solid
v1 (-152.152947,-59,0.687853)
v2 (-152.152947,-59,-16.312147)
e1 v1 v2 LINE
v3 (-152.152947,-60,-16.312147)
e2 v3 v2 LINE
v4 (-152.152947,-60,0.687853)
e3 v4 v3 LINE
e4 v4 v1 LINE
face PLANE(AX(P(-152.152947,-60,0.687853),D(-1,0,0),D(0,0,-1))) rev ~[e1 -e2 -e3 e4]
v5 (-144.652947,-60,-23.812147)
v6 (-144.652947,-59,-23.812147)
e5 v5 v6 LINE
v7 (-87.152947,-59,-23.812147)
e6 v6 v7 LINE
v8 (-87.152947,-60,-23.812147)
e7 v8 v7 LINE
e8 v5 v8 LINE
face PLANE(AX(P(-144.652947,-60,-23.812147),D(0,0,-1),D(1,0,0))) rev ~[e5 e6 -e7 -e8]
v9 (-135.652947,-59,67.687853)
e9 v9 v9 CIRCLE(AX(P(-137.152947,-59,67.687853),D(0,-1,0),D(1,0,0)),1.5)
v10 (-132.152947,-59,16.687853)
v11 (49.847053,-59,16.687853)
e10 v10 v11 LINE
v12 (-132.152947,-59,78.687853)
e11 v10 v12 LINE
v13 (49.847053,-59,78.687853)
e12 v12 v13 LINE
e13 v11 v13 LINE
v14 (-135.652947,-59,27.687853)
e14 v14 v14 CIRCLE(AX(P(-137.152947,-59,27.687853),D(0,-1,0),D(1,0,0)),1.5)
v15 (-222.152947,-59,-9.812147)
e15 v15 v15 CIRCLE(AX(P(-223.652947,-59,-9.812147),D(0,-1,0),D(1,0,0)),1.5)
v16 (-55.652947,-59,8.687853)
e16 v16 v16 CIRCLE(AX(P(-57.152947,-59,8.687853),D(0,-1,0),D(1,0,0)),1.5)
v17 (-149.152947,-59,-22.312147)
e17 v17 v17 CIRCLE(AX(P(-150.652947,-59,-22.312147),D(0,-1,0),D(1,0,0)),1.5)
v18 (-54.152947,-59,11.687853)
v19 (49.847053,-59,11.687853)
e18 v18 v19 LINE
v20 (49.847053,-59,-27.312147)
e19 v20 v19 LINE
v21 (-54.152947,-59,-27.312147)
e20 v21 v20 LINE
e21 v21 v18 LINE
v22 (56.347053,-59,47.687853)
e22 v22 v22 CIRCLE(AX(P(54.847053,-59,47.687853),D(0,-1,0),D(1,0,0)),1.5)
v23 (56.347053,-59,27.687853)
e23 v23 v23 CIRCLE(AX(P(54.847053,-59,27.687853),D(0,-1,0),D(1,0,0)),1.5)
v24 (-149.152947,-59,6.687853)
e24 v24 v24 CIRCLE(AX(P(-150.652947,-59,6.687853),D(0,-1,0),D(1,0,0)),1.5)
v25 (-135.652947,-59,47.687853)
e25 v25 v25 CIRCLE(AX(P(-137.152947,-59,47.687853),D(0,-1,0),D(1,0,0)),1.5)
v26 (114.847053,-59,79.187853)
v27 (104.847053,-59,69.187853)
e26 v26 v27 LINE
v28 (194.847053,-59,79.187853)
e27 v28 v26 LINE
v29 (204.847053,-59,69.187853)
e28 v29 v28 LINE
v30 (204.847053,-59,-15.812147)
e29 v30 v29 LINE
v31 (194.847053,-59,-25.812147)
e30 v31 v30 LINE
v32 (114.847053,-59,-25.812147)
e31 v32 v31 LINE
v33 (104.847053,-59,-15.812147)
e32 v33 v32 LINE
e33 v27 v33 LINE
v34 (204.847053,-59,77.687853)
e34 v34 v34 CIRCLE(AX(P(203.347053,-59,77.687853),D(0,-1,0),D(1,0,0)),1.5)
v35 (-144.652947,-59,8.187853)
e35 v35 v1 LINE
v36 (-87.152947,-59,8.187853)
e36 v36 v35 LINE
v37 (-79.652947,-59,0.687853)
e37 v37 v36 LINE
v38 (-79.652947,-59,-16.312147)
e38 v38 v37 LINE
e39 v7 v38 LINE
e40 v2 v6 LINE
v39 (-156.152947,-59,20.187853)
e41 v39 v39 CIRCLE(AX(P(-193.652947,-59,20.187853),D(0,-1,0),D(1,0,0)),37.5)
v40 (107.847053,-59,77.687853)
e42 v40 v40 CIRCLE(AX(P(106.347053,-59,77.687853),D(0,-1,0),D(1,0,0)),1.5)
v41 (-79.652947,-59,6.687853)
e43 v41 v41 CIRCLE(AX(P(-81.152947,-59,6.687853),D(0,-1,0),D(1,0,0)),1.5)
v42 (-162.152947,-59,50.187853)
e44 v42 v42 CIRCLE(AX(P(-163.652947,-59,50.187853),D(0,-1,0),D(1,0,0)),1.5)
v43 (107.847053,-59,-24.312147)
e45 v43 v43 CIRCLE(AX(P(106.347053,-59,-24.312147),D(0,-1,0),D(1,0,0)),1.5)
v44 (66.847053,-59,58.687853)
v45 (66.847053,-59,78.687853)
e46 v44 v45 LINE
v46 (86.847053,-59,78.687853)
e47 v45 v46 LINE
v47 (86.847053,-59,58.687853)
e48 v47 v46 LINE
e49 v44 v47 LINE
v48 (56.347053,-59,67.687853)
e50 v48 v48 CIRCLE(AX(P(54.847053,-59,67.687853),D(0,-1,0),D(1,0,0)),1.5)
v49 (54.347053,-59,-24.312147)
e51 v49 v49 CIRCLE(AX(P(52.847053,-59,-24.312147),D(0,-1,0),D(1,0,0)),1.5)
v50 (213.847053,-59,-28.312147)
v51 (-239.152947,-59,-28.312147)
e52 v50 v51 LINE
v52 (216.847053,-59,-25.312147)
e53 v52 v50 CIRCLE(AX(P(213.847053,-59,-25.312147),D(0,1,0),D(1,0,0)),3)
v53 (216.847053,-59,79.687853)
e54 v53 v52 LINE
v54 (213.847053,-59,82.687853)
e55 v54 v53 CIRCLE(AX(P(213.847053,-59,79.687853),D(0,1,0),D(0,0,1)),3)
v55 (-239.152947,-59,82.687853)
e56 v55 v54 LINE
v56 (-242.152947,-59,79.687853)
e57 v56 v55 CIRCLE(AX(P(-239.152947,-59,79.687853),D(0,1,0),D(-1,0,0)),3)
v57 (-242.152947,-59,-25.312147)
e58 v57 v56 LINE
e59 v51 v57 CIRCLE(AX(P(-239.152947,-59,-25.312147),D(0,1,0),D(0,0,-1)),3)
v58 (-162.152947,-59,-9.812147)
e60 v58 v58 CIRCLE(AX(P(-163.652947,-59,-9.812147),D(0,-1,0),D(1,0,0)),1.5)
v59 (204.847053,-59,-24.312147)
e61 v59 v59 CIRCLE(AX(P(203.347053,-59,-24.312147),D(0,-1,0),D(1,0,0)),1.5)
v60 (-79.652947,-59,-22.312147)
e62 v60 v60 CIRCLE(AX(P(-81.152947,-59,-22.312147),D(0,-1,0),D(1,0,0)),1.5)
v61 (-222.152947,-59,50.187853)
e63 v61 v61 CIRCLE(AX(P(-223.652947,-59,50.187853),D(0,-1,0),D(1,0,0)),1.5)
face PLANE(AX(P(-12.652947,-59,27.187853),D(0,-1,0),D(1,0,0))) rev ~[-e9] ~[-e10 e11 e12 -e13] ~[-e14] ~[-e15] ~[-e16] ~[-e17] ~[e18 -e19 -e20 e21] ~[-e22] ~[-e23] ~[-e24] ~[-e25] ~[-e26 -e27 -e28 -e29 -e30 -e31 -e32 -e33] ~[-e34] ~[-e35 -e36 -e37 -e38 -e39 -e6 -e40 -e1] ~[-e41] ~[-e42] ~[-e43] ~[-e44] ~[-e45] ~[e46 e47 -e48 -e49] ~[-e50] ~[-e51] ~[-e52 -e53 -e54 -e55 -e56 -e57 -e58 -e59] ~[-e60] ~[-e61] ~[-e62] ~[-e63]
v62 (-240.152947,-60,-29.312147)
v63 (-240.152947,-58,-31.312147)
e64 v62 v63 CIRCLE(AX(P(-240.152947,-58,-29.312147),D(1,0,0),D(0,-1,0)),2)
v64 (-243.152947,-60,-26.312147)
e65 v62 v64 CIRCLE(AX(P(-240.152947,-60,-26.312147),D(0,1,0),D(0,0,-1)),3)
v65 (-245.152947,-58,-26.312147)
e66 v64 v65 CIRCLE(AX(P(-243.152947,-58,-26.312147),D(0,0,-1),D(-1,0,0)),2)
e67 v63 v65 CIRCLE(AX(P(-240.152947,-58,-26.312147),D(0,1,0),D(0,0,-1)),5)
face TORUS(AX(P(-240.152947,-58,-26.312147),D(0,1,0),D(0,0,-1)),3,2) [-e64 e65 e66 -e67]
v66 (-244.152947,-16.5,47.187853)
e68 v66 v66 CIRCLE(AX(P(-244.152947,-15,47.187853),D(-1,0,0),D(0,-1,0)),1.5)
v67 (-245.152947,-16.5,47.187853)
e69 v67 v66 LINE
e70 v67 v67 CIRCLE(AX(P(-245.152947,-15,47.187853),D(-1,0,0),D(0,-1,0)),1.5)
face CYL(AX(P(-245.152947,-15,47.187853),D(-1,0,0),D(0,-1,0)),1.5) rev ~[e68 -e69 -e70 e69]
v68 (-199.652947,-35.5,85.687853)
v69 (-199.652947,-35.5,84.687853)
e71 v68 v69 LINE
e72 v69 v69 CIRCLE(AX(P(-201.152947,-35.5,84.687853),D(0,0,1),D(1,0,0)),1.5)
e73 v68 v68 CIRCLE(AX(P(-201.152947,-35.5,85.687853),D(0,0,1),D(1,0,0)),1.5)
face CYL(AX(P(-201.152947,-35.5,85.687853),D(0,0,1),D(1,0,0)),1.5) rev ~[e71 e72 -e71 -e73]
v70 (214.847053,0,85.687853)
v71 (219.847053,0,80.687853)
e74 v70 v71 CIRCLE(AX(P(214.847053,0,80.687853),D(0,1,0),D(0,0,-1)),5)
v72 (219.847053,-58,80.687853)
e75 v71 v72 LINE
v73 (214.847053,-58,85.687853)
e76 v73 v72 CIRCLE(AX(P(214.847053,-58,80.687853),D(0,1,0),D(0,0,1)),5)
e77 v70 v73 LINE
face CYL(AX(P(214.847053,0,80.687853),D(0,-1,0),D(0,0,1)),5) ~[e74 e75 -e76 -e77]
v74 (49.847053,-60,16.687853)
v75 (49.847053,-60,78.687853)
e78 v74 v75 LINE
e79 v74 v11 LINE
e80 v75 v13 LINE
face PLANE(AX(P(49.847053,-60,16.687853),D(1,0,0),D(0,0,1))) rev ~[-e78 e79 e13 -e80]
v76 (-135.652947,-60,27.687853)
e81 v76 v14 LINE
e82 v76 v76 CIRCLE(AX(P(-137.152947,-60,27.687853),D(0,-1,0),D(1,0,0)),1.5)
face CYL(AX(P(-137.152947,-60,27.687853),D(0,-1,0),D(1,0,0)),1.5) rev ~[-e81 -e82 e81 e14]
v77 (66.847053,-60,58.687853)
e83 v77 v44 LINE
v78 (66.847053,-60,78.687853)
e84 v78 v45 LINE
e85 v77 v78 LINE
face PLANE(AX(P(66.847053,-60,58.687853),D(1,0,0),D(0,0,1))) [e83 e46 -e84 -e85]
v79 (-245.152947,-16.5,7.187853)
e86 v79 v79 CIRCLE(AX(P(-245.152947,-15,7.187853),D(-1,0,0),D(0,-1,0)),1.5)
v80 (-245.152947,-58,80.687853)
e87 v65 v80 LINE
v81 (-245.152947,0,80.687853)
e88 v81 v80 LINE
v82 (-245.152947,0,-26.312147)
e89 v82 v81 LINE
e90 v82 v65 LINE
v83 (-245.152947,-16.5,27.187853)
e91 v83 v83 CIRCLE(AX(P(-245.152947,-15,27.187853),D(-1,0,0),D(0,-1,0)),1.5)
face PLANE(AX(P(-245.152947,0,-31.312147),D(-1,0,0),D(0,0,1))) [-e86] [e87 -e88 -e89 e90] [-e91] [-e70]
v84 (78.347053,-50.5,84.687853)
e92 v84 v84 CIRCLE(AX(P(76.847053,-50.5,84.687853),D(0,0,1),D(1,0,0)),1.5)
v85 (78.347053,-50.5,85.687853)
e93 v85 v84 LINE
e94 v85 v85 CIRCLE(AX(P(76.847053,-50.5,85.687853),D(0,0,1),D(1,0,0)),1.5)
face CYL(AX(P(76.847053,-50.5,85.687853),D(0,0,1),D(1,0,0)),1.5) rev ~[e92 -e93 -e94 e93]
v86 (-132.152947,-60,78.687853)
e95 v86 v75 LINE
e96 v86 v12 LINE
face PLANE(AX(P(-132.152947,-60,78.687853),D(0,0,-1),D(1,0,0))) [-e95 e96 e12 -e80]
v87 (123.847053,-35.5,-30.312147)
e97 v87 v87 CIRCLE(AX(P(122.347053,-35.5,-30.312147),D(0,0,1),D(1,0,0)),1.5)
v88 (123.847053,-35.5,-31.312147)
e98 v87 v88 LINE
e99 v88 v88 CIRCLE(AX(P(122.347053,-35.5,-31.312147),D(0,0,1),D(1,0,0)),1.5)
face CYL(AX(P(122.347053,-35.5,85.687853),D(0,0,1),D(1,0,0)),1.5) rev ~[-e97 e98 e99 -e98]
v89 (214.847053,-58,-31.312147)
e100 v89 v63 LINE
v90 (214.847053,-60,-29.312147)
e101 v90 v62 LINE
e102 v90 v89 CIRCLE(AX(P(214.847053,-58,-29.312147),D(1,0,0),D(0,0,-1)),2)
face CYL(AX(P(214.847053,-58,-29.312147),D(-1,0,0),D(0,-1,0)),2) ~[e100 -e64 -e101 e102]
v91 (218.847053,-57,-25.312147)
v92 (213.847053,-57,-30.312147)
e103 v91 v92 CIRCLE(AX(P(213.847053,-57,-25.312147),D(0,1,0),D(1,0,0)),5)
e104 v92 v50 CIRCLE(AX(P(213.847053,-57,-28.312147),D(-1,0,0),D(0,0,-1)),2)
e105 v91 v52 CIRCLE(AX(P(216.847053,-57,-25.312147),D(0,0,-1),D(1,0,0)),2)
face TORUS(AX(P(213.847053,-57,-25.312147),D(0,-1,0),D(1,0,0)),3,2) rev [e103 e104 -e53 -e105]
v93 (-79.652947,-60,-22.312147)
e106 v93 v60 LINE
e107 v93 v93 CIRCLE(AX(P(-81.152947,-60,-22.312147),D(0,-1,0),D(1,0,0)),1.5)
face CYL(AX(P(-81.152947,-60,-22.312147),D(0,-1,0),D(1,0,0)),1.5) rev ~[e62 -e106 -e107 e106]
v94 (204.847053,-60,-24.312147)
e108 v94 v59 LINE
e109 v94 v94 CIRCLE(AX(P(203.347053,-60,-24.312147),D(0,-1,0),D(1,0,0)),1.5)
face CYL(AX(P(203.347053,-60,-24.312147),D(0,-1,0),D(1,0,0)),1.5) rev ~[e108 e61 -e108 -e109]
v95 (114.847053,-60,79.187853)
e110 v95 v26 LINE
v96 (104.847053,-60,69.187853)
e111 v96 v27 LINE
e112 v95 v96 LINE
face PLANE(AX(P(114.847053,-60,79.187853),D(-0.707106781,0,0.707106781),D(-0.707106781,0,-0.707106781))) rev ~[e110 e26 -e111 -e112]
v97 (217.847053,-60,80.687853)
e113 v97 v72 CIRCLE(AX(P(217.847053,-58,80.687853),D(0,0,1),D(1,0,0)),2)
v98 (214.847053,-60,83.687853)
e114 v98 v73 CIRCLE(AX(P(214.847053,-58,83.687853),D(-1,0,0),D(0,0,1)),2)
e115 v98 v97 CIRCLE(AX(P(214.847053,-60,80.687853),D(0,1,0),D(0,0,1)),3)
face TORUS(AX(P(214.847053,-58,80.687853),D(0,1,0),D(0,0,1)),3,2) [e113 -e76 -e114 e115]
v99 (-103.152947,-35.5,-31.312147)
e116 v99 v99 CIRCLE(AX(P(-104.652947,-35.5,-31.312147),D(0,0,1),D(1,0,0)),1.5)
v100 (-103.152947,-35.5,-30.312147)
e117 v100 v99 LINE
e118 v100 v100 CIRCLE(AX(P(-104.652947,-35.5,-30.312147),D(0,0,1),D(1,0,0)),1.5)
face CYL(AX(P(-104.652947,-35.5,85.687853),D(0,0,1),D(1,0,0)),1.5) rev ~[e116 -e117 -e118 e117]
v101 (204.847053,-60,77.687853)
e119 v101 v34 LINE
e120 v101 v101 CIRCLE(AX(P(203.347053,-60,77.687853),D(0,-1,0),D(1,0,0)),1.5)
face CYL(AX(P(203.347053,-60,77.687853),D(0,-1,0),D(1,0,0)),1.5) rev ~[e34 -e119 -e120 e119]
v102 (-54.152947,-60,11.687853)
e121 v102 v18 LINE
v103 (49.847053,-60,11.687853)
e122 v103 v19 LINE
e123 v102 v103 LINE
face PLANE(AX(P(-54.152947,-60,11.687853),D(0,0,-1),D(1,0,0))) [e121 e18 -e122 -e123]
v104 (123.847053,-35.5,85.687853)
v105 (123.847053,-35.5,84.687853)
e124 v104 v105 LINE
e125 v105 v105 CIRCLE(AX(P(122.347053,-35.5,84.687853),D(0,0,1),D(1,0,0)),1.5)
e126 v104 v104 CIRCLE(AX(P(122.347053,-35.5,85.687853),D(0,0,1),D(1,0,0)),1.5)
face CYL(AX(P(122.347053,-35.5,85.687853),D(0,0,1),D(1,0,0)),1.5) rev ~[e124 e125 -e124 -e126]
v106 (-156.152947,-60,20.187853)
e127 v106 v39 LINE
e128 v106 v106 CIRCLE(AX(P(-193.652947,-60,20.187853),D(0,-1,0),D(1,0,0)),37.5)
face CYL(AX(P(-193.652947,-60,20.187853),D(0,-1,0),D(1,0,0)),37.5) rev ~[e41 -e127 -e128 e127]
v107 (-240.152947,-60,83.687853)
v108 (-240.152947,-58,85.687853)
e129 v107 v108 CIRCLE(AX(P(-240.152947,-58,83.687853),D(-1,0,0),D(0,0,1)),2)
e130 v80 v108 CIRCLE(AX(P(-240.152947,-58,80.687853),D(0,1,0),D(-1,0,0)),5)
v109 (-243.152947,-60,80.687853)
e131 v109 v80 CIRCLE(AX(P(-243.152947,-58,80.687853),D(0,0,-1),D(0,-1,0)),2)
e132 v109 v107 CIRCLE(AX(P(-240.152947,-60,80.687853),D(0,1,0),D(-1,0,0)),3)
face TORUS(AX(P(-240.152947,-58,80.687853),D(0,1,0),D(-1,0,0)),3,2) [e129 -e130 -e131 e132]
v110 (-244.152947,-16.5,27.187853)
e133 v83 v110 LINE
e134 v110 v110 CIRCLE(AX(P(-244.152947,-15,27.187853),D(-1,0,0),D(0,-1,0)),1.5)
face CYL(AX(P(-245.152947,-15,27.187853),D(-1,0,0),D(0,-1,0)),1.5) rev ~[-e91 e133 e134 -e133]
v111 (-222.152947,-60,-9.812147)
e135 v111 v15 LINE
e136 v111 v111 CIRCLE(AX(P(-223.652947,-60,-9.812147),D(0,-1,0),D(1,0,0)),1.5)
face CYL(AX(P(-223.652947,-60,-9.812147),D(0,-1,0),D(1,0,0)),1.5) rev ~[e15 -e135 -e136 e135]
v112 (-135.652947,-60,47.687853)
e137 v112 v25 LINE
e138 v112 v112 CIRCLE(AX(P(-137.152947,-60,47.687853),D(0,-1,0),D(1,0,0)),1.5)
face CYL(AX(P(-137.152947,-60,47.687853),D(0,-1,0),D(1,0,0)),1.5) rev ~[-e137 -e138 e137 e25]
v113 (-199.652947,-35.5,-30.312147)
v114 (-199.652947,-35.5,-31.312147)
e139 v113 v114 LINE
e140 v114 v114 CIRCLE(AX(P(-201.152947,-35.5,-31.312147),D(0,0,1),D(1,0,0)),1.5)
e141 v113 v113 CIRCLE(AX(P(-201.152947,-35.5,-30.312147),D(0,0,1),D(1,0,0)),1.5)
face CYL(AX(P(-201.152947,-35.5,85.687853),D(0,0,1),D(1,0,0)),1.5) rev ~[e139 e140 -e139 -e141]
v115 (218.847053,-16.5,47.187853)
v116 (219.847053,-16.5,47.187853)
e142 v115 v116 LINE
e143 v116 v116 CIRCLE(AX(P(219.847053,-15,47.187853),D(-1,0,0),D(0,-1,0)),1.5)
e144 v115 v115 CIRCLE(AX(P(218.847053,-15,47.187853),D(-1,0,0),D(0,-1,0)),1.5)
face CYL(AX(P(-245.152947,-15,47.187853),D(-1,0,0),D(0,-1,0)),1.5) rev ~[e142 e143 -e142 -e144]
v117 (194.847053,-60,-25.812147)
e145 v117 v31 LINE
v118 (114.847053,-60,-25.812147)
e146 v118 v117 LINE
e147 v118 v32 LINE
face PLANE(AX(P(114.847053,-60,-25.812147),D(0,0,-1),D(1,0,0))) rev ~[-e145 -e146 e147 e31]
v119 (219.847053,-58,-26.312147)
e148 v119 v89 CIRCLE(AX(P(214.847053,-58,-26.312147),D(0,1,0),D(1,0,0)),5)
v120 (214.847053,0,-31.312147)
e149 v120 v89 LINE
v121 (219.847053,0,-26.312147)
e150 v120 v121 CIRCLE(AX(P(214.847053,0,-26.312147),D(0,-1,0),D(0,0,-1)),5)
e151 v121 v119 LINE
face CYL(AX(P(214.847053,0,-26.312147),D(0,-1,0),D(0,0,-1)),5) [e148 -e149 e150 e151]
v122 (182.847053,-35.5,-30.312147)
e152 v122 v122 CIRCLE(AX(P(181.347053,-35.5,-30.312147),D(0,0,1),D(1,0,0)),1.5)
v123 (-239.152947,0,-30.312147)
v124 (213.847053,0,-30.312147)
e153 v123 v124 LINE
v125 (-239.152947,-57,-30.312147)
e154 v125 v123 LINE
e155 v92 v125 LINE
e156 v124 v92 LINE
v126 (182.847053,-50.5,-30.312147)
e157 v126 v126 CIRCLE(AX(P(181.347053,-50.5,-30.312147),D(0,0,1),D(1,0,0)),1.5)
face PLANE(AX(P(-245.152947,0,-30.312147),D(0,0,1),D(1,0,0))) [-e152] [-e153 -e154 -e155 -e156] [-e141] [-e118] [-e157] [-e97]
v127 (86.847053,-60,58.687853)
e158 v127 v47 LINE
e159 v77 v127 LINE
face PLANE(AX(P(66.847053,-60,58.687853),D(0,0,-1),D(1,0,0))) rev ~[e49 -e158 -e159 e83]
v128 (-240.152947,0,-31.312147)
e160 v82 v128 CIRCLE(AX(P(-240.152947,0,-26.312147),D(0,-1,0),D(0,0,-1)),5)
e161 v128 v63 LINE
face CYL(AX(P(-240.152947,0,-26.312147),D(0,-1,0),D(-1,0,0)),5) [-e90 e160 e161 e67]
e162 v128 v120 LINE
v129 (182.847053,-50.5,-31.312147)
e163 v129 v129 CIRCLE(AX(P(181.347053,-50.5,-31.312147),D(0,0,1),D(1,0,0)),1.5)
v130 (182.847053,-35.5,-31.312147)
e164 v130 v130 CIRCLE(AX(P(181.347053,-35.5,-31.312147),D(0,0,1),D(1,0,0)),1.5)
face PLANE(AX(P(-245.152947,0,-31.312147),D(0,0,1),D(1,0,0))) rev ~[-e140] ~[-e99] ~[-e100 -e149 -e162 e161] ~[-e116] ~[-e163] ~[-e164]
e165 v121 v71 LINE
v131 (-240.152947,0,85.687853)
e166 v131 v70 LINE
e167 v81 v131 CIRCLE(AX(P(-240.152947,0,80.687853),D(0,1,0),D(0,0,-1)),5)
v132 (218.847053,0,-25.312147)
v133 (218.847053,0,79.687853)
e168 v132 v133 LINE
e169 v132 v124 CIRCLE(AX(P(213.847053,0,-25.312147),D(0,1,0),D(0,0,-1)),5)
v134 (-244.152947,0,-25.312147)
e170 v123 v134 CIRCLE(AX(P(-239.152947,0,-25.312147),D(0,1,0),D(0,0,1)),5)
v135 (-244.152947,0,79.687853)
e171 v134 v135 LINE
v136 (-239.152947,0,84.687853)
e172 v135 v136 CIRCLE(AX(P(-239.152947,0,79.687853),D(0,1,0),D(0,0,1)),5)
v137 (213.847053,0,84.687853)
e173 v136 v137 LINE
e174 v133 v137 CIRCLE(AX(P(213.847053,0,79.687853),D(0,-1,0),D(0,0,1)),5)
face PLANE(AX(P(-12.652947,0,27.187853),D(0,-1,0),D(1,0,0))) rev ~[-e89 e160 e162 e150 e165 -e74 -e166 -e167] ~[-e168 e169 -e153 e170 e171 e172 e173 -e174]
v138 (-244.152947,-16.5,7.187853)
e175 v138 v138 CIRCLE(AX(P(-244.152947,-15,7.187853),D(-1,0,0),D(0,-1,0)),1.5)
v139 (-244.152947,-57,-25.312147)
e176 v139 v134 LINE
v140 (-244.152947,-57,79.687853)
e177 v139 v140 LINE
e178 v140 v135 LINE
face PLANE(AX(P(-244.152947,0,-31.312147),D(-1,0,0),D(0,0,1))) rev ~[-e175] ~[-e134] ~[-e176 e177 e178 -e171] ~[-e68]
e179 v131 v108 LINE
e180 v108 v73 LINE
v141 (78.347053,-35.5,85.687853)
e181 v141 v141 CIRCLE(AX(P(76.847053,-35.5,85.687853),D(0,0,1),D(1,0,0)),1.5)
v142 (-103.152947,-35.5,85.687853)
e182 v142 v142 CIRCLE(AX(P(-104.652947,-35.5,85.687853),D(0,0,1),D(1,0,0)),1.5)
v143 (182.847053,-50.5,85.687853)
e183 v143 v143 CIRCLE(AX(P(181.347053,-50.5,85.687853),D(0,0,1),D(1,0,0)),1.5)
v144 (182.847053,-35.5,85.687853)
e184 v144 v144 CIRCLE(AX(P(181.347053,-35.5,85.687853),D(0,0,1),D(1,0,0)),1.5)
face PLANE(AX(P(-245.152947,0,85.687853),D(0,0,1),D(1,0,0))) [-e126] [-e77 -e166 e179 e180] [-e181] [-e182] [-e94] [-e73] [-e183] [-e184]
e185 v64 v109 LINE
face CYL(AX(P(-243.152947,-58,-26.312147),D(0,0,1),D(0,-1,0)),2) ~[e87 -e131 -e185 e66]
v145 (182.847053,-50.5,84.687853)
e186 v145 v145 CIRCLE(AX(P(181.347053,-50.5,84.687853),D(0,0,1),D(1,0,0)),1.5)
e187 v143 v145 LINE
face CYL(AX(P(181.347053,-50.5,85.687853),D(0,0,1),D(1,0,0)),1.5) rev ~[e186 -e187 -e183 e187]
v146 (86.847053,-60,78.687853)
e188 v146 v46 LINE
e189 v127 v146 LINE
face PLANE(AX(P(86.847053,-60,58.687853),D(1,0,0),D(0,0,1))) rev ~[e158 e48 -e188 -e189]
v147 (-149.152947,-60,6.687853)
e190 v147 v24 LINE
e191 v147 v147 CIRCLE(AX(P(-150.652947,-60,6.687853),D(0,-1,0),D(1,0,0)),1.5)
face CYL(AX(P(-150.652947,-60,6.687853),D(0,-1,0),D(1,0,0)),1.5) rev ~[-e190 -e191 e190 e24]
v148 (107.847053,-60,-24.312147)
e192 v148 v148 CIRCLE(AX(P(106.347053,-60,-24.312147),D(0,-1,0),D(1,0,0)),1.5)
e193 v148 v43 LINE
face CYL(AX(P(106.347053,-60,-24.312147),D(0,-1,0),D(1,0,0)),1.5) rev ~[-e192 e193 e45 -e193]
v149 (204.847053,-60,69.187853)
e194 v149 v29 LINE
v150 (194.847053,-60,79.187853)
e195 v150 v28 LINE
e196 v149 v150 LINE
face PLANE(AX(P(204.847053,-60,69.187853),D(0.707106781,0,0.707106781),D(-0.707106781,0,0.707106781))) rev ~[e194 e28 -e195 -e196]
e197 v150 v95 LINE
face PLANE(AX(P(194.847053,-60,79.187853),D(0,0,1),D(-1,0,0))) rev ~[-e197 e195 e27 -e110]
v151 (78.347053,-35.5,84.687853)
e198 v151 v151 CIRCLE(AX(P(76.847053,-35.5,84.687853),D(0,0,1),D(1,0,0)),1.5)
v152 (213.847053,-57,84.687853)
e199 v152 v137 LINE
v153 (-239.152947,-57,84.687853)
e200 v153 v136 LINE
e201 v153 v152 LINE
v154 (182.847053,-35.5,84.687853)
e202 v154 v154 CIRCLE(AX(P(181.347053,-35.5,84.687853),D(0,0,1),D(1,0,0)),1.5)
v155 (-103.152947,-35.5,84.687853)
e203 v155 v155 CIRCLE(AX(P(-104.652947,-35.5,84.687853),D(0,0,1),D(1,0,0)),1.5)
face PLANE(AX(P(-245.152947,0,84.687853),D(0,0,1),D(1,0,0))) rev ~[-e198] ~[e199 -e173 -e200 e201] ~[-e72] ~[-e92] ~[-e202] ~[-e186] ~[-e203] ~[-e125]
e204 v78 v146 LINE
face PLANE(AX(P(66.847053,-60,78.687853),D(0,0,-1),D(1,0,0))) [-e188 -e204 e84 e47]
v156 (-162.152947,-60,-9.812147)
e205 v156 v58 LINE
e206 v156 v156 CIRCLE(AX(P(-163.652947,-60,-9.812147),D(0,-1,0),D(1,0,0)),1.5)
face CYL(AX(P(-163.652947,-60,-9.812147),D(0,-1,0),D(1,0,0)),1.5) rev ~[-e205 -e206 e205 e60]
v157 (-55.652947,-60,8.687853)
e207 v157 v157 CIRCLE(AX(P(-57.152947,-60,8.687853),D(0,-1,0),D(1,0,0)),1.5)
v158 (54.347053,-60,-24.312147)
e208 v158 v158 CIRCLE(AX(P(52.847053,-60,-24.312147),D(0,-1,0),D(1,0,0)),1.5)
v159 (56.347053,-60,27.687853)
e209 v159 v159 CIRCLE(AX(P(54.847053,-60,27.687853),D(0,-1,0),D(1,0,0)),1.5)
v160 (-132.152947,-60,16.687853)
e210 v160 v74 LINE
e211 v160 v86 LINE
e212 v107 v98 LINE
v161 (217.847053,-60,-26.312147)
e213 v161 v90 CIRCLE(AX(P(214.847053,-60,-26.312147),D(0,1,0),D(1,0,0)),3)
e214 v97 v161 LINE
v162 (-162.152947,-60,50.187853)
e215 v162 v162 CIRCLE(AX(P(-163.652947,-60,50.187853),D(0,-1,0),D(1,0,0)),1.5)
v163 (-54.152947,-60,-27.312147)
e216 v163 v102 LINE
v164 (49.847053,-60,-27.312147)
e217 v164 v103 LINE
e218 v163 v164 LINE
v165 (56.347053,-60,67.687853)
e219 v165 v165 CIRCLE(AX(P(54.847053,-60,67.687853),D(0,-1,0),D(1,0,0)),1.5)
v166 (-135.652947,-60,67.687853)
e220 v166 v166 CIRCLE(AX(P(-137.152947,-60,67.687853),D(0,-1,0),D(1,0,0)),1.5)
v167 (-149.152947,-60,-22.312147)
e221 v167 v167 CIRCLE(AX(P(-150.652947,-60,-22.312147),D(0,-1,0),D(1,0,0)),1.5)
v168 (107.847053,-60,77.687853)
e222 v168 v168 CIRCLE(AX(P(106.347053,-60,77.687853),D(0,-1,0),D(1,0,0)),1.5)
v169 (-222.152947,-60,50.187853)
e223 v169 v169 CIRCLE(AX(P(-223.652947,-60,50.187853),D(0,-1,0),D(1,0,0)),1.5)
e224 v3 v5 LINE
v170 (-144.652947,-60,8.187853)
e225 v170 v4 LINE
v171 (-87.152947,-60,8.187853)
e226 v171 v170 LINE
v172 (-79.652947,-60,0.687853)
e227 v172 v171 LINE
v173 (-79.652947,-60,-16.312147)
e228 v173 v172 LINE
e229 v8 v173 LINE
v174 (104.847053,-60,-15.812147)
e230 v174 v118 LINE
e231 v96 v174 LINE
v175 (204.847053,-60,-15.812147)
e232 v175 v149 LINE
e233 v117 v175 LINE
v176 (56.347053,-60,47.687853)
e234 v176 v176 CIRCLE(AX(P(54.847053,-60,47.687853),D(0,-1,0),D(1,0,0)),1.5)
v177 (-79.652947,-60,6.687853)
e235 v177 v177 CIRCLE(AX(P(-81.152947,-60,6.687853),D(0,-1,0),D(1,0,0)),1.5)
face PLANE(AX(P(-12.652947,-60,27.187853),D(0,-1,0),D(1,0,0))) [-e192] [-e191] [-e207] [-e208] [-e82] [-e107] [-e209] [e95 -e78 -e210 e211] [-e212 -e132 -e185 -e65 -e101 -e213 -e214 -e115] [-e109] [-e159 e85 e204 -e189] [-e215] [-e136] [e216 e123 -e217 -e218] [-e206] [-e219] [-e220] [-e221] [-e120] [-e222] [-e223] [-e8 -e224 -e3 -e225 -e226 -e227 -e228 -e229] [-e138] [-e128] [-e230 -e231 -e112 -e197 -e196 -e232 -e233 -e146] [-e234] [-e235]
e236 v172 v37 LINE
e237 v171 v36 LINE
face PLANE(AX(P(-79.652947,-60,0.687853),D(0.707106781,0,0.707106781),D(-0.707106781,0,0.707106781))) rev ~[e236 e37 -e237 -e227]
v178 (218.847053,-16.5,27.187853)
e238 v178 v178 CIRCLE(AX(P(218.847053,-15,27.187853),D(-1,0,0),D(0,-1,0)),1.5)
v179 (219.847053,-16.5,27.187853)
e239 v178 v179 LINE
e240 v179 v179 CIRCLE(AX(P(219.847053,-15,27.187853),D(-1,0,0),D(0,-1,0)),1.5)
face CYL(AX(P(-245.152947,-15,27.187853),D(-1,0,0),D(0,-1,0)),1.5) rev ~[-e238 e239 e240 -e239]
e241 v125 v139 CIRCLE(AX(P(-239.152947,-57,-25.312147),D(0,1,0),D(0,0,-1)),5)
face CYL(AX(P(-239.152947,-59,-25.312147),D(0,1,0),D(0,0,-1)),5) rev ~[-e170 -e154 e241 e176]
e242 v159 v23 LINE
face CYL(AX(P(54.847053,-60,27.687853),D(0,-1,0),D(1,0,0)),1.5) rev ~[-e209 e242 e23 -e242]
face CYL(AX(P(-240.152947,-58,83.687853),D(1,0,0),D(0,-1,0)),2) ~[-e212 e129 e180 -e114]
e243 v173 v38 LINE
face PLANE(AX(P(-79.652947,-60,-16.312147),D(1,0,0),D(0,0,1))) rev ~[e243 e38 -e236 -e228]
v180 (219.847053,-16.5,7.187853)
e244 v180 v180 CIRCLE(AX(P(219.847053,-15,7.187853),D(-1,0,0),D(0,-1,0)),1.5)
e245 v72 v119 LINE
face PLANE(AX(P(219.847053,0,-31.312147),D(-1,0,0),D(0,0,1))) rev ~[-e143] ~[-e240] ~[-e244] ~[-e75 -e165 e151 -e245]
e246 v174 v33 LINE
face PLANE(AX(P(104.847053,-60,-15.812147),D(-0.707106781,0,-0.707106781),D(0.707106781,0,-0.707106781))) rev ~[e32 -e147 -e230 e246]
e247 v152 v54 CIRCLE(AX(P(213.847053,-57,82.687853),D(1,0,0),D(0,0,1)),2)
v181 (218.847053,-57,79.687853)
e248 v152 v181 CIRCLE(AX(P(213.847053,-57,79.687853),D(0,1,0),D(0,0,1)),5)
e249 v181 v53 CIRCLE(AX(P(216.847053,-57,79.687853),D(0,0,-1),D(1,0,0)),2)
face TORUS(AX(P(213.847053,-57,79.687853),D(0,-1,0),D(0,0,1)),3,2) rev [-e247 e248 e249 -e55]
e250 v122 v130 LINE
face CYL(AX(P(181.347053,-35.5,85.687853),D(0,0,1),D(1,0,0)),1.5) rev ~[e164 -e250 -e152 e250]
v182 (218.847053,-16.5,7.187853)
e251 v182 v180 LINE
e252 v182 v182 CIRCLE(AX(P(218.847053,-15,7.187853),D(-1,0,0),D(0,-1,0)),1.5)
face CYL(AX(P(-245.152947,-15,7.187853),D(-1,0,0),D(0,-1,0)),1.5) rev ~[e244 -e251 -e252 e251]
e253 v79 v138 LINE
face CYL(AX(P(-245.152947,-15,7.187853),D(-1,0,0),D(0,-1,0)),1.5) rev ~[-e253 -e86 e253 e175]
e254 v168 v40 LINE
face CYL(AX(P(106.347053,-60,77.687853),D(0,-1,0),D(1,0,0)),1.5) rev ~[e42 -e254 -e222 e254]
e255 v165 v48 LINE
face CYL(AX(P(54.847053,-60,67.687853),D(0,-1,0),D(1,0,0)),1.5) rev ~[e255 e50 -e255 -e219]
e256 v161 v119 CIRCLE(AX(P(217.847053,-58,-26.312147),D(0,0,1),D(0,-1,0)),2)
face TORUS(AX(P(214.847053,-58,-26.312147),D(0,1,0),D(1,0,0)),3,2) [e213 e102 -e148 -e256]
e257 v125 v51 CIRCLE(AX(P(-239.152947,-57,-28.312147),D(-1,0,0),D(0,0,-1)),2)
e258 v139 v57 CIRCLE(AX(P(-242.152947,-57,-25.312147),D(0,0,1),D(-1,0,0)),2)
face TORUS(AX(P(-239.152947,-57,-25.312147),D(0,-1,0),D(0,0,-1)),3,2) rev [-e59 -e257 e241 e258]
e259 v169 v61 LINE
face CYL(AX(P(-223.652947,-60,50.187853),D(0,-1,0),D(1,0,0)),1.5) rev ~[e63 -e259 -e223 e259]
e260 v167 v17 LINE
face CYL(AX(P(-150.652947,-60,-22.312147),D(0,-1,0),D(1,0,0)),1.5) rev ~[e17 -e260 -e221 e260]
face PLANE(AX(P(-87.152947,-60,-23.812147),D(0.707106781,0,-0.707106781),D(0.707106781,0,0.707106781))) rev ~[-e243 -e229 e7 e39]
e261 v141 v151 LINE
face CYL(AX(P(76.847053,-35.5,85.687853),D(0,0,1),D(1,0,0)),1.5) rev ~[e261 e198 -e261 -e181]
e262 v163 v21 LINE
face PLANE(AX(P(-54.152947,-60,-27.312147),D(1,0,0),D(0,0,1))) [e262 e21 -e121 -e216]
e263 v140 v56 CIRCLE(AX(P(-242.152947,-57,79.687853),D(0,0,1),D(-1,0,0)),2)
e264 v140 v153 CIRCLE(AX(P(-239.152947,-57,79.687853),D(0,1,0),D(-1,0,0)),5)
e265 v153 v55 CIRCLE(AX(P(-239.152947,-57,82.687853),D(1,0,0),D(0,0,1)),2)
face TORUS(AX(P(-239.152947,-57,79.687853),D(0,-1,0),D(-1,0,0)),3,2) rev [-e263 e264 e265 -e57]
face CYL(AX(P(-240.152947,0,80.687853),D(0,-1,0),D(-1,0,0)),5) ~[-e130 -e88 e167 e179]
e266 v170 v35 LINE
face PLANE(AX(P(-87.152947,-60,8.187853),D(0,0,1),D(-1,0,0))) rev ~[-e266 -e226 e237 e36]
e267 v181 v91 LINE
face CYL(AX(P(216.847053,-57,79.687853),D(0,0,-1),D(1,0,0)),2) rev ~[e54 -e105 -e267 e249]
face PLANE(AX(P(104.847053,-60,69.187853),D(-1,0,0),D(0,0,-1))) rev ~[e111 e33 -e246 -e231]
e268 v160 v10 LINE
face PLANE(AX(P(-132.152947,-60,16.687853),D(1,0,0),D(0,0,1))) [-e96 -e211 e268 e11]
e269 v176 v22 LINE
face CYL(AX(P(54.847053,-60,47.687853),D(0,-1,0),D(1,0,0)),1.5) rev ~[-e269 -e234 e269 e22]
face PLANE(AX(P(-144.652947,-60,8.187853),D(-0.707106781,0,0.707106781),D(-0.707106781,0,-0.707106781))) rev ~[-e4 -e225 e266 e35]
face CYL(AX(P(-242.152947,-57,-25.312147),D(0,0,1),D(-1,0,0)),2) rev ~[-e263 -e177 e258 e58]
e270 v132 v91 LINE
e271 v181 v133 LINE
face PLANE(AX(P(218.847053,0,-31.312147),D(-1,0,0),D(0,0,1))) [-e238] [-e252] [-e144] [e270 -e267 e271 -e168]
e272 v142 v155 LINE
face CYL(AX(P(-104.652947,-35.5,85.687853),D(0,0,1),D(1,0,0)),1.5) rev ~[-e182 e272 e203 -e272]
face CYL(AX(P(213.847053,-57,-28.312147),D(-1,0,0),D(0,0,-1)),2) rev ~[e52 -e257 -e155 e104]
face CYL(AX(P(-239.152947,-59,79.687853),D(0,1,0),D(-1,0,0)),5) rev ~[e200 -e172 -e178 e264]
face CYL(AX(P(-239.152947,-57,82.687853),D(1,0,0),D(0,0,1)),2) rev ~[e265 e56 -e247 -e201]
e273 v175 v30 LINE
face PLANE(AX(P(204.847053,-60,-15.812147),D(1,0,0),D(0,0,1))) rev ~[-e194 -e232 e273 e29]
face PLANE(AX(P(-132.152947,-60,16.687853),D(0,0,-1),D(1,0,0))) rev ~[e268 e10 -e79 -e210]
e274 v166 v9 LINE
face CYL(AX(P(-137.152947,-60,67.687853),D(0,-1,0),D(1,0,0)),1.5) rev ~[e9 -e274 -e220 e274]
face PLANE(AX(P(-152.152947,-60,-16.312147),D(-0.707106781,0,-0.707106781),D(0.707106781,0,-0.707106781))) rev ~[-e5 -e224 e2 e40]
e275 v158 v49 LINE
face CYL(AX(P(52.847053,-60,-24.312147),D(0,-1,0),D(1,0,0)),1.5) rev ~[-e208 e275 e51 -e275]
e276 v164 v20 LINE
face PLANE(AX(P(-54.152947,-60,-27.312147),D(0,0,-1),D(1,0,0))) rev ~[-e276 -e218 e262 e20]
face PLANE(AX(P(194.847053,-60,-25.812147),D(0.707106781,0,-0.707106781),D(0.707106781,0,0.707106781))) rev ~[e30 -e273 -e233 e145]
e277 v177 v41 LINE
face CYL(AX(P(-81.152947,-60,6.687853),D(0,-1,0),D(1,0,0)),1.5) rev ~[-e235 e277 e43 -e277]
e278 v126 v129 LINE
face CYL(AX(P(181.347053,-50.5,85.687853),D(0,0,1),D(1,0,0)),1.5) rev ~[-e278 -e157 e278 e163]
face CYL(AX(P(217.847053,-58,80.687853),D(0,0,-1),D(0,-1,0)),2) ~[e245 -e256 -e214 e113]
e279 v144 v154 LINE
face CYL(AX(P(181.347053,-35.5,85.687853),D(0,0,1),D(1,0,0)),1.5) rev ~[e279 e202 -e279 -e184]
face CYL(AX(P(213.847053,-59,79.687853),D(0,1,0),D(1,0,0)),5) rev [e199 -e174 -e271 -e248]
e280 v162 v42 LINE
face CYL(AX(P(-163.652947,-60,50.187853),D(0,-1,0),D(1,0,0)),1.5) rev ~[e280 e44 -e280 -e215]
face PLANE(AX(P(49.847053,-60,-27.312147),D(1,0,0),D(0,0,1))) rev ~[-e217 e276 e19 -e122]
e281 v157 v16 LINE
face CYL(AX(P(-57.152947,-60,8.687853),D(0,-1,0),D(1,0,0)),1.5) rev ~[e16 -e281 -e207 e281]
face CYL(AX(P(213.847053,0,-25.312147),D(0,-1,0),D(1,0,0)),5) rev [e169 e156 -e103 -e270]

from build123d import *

# Parameters (mm, degrees)
F0_W      = 465
F0_H      = 117
F1_DEPTH  = 60
F2_T      = -1
F3_W      = 182
F3_H      = 62
F3_W_2    = 20
F3_H_2    = 20
F3_R      = 1.5
F3_R_2    = 37.5
F3_W_3    = 104
F3_H_3    = 39
F4_DEPTH  = 25
F5_R      = 5
F6_R      = 2
F7_R      = 1.5
F8_DEPTH  = 500
F9_R      = 1.5
F10_DEPTH = 117.0010001
F11_DEPTH = 2


with BuildPart() as f1:
    # F0 (on Front) → F1 (new body)
    with BuildSketch(Plane.XZ):
        with Locations((-12.6529467106, 27.1878533959)):
            Rectangle(F0_W, F0_H)
    extrude(amount=F1_DEPTH)

    # F2
    f2_openings = [f1.faces().sort_by_distance(p)[0] for p in [
        (-12.652947, 0, 27.187853),
    ]]
    offset(amount=F2_T, openings=f2_openings)

    # F3 (on face) → F4 (cut)
    with BuildSketch(Plane.XZ.offset(60)):
        with Locations((-41.1529467106, 47.6878533959)):
            Rectangle(F3_W, F3_H)
        with Locations((76.8470532894, 68.6878533959)):
            Rectangle(F3_W_2, F3_H_2)
        Polygon((194.8470532894, 79.1878533959), (114.8470532894, 79.1878533959), (104.8470532894, 69.1878533959), (104.8470532894, -15.8121466041), (114.8470532894, -25.8121466041), (194.8470532894, -25.8121466041), (204.8470532894, -15.8121466041), (204.8470532894, 69.1878533959), align=None)
        with Locations((54.8470532894, 67.6878533959)):
            Circle(F3_R)
        with Locations((54.8470532894, 47.6878533959)):
            Circle(F3_R)
        with Locations((54.8470532894, 27.6878533959)):
            Circle(F3_R)
        with Locations((106.3470532894, 77.6878533959)):
            Circle(F3_R)
        Polygon((-87.1529467106, 8.1878533959), (-144.6529467106, 8.1878533959), (-152.1529467106, 0.6878533959), (-152.1529467106, -16.3121466041), (-144.6529467106, -23.8121466041), (-87.1529467106, -23.8121466041), (-79.6529467106, -16.3121466041), (-79.6529467106, 0.6878533959), align=None)
        with Locations((-193.6529467106, 20.1878533959)):
            Circle(F3_R_2)
        with Locations((-137.1529467106, 67.6878533959)):
            Circle(F3_R)
        with Locations((-137.1529467106, 47.6878533959)):
            Circle(F3_R)
        with Locations((-137.1529467106, 27.6878533959)):
            Circle(F3_R)
        with Locations((-223.6529467106, 50.1878533959)):
            Circle(F3_R)
        with Locations((-223.6529467106, -9.8121466041)):
            Circle(F3_R)
        with Locations((-163.6529467106, -9.8121466041)):
            Circle(F3_R)
        with Locations((-163.6529467106, 50.1878533959)):
            Circle(F3_R)
        with Locations((-57.1529467106, 8.6878533959)):
            Circle(F3_R)
        with Locations((52.8470532894, -24.3121466041)):
            Circle(F3_R)
        with Locations((-2.1529467106, -7.8121466041)):
            Rectangle(F3_W_3, F3_H_3)
        with Locations((-150.6529467106, 6.6878533959)):
            Circle(F3_R)
        with Locations((-81.1529467106, 6.6878533959)):
            Circle(F3_R)
        with Locations((-150.6529467106, -22.3121466041)):
            Circle(F3_R)
        with Locations((-81.1529467106, -22.3121466041)):
            Circle(F3_R)
        with Locations((203.3470532894, 77.6878533959)):
            Circle(F3_R)
        with Locations((106.3470532894, -24.3121466041)):
            Circle(F3_R)
        with Locations((203.3470532894, -24.3121466041)):
            Circle(F3_R)
    extrude(amount=-F4_DEPTH, mode=Mode.SUBTRACT)

    # F5
    f5_edges = [f1.edges().sort_by_distance(p)[0] for p in [
        (-245.152947, -30, 85.687853),
        (219.847053, -30, 85.687853),
        (219.847053, -30, -31.312147),
        (-245.152947, -30, -31.312147),
        (-244.152947, -29.5, 84.687853),
        (-244.152947, -29.5, -30.312147),
        (218.847053, -29.5, -30.312147),
        (218.847053, -29.5, 84.687853),
    ]]
    fillet(f5_edges, radius=F5_R)

    # F6
    f6_edges = [f1.edges().sort_by_distance(p)[0] for p in [
        (218.382587, -60, 84.223387),
        (-12.652947, -59, 84.687853),
    ]]
    fillet(f6_edges, radius=F6_R)

    # F7 (on face) → F8 (cut)
    with BuildSketch(Plane(origin=(-245.1529467106, 0, 0), x_dir=(0, -1, 0), z_dir=(-1, 0, 0))):
        with Locations((15, 47.1878533959)):
            Circle(F7_R)
        with Locations((15, 7.1878533959)):
            Circle(F7_R)
        with Locations((15, 27.1878533959)):
            Circle(F7_R)
    extrude(amount=-F8_DEPTH, mode=Mode.SUBTRACT)

    # F9 (on face) → F10 (cut, through all)
    with BuildSketch(Plane.XY.offset(85.6878533959)):
        with Locations((-201.1529467106, -35.5)):
            Circle(F9_R)
        with Locations((-104.6529467106, -35.5)):
            Circle(F9_R)
        with Locations((122.3470532894, -35.5)):
            Circle(F9_R)
        with Locations((181.3470532894, -35.5)):
            Circle(F9_R)
        with Locations((181.3470532894, -50.5)):
            Circle(F9_R)
    extrude(amount=-F10_DEPTH, mode=Mode.SUBTRACT)

    # F9 (on face) → F11 (cut)
    with BuildSketch(Plane.XY.offset(85.6878533959)):
        with Locations((76.8470532894, -35.5)):
            Circle(F9_R)
        with Locations((76.8470532894, -50.5)):
            Circle(F9_R)
    extrude(amount=-F11_DEPTH, mode=Mode.SUBTRACT)


solid = f1.part
